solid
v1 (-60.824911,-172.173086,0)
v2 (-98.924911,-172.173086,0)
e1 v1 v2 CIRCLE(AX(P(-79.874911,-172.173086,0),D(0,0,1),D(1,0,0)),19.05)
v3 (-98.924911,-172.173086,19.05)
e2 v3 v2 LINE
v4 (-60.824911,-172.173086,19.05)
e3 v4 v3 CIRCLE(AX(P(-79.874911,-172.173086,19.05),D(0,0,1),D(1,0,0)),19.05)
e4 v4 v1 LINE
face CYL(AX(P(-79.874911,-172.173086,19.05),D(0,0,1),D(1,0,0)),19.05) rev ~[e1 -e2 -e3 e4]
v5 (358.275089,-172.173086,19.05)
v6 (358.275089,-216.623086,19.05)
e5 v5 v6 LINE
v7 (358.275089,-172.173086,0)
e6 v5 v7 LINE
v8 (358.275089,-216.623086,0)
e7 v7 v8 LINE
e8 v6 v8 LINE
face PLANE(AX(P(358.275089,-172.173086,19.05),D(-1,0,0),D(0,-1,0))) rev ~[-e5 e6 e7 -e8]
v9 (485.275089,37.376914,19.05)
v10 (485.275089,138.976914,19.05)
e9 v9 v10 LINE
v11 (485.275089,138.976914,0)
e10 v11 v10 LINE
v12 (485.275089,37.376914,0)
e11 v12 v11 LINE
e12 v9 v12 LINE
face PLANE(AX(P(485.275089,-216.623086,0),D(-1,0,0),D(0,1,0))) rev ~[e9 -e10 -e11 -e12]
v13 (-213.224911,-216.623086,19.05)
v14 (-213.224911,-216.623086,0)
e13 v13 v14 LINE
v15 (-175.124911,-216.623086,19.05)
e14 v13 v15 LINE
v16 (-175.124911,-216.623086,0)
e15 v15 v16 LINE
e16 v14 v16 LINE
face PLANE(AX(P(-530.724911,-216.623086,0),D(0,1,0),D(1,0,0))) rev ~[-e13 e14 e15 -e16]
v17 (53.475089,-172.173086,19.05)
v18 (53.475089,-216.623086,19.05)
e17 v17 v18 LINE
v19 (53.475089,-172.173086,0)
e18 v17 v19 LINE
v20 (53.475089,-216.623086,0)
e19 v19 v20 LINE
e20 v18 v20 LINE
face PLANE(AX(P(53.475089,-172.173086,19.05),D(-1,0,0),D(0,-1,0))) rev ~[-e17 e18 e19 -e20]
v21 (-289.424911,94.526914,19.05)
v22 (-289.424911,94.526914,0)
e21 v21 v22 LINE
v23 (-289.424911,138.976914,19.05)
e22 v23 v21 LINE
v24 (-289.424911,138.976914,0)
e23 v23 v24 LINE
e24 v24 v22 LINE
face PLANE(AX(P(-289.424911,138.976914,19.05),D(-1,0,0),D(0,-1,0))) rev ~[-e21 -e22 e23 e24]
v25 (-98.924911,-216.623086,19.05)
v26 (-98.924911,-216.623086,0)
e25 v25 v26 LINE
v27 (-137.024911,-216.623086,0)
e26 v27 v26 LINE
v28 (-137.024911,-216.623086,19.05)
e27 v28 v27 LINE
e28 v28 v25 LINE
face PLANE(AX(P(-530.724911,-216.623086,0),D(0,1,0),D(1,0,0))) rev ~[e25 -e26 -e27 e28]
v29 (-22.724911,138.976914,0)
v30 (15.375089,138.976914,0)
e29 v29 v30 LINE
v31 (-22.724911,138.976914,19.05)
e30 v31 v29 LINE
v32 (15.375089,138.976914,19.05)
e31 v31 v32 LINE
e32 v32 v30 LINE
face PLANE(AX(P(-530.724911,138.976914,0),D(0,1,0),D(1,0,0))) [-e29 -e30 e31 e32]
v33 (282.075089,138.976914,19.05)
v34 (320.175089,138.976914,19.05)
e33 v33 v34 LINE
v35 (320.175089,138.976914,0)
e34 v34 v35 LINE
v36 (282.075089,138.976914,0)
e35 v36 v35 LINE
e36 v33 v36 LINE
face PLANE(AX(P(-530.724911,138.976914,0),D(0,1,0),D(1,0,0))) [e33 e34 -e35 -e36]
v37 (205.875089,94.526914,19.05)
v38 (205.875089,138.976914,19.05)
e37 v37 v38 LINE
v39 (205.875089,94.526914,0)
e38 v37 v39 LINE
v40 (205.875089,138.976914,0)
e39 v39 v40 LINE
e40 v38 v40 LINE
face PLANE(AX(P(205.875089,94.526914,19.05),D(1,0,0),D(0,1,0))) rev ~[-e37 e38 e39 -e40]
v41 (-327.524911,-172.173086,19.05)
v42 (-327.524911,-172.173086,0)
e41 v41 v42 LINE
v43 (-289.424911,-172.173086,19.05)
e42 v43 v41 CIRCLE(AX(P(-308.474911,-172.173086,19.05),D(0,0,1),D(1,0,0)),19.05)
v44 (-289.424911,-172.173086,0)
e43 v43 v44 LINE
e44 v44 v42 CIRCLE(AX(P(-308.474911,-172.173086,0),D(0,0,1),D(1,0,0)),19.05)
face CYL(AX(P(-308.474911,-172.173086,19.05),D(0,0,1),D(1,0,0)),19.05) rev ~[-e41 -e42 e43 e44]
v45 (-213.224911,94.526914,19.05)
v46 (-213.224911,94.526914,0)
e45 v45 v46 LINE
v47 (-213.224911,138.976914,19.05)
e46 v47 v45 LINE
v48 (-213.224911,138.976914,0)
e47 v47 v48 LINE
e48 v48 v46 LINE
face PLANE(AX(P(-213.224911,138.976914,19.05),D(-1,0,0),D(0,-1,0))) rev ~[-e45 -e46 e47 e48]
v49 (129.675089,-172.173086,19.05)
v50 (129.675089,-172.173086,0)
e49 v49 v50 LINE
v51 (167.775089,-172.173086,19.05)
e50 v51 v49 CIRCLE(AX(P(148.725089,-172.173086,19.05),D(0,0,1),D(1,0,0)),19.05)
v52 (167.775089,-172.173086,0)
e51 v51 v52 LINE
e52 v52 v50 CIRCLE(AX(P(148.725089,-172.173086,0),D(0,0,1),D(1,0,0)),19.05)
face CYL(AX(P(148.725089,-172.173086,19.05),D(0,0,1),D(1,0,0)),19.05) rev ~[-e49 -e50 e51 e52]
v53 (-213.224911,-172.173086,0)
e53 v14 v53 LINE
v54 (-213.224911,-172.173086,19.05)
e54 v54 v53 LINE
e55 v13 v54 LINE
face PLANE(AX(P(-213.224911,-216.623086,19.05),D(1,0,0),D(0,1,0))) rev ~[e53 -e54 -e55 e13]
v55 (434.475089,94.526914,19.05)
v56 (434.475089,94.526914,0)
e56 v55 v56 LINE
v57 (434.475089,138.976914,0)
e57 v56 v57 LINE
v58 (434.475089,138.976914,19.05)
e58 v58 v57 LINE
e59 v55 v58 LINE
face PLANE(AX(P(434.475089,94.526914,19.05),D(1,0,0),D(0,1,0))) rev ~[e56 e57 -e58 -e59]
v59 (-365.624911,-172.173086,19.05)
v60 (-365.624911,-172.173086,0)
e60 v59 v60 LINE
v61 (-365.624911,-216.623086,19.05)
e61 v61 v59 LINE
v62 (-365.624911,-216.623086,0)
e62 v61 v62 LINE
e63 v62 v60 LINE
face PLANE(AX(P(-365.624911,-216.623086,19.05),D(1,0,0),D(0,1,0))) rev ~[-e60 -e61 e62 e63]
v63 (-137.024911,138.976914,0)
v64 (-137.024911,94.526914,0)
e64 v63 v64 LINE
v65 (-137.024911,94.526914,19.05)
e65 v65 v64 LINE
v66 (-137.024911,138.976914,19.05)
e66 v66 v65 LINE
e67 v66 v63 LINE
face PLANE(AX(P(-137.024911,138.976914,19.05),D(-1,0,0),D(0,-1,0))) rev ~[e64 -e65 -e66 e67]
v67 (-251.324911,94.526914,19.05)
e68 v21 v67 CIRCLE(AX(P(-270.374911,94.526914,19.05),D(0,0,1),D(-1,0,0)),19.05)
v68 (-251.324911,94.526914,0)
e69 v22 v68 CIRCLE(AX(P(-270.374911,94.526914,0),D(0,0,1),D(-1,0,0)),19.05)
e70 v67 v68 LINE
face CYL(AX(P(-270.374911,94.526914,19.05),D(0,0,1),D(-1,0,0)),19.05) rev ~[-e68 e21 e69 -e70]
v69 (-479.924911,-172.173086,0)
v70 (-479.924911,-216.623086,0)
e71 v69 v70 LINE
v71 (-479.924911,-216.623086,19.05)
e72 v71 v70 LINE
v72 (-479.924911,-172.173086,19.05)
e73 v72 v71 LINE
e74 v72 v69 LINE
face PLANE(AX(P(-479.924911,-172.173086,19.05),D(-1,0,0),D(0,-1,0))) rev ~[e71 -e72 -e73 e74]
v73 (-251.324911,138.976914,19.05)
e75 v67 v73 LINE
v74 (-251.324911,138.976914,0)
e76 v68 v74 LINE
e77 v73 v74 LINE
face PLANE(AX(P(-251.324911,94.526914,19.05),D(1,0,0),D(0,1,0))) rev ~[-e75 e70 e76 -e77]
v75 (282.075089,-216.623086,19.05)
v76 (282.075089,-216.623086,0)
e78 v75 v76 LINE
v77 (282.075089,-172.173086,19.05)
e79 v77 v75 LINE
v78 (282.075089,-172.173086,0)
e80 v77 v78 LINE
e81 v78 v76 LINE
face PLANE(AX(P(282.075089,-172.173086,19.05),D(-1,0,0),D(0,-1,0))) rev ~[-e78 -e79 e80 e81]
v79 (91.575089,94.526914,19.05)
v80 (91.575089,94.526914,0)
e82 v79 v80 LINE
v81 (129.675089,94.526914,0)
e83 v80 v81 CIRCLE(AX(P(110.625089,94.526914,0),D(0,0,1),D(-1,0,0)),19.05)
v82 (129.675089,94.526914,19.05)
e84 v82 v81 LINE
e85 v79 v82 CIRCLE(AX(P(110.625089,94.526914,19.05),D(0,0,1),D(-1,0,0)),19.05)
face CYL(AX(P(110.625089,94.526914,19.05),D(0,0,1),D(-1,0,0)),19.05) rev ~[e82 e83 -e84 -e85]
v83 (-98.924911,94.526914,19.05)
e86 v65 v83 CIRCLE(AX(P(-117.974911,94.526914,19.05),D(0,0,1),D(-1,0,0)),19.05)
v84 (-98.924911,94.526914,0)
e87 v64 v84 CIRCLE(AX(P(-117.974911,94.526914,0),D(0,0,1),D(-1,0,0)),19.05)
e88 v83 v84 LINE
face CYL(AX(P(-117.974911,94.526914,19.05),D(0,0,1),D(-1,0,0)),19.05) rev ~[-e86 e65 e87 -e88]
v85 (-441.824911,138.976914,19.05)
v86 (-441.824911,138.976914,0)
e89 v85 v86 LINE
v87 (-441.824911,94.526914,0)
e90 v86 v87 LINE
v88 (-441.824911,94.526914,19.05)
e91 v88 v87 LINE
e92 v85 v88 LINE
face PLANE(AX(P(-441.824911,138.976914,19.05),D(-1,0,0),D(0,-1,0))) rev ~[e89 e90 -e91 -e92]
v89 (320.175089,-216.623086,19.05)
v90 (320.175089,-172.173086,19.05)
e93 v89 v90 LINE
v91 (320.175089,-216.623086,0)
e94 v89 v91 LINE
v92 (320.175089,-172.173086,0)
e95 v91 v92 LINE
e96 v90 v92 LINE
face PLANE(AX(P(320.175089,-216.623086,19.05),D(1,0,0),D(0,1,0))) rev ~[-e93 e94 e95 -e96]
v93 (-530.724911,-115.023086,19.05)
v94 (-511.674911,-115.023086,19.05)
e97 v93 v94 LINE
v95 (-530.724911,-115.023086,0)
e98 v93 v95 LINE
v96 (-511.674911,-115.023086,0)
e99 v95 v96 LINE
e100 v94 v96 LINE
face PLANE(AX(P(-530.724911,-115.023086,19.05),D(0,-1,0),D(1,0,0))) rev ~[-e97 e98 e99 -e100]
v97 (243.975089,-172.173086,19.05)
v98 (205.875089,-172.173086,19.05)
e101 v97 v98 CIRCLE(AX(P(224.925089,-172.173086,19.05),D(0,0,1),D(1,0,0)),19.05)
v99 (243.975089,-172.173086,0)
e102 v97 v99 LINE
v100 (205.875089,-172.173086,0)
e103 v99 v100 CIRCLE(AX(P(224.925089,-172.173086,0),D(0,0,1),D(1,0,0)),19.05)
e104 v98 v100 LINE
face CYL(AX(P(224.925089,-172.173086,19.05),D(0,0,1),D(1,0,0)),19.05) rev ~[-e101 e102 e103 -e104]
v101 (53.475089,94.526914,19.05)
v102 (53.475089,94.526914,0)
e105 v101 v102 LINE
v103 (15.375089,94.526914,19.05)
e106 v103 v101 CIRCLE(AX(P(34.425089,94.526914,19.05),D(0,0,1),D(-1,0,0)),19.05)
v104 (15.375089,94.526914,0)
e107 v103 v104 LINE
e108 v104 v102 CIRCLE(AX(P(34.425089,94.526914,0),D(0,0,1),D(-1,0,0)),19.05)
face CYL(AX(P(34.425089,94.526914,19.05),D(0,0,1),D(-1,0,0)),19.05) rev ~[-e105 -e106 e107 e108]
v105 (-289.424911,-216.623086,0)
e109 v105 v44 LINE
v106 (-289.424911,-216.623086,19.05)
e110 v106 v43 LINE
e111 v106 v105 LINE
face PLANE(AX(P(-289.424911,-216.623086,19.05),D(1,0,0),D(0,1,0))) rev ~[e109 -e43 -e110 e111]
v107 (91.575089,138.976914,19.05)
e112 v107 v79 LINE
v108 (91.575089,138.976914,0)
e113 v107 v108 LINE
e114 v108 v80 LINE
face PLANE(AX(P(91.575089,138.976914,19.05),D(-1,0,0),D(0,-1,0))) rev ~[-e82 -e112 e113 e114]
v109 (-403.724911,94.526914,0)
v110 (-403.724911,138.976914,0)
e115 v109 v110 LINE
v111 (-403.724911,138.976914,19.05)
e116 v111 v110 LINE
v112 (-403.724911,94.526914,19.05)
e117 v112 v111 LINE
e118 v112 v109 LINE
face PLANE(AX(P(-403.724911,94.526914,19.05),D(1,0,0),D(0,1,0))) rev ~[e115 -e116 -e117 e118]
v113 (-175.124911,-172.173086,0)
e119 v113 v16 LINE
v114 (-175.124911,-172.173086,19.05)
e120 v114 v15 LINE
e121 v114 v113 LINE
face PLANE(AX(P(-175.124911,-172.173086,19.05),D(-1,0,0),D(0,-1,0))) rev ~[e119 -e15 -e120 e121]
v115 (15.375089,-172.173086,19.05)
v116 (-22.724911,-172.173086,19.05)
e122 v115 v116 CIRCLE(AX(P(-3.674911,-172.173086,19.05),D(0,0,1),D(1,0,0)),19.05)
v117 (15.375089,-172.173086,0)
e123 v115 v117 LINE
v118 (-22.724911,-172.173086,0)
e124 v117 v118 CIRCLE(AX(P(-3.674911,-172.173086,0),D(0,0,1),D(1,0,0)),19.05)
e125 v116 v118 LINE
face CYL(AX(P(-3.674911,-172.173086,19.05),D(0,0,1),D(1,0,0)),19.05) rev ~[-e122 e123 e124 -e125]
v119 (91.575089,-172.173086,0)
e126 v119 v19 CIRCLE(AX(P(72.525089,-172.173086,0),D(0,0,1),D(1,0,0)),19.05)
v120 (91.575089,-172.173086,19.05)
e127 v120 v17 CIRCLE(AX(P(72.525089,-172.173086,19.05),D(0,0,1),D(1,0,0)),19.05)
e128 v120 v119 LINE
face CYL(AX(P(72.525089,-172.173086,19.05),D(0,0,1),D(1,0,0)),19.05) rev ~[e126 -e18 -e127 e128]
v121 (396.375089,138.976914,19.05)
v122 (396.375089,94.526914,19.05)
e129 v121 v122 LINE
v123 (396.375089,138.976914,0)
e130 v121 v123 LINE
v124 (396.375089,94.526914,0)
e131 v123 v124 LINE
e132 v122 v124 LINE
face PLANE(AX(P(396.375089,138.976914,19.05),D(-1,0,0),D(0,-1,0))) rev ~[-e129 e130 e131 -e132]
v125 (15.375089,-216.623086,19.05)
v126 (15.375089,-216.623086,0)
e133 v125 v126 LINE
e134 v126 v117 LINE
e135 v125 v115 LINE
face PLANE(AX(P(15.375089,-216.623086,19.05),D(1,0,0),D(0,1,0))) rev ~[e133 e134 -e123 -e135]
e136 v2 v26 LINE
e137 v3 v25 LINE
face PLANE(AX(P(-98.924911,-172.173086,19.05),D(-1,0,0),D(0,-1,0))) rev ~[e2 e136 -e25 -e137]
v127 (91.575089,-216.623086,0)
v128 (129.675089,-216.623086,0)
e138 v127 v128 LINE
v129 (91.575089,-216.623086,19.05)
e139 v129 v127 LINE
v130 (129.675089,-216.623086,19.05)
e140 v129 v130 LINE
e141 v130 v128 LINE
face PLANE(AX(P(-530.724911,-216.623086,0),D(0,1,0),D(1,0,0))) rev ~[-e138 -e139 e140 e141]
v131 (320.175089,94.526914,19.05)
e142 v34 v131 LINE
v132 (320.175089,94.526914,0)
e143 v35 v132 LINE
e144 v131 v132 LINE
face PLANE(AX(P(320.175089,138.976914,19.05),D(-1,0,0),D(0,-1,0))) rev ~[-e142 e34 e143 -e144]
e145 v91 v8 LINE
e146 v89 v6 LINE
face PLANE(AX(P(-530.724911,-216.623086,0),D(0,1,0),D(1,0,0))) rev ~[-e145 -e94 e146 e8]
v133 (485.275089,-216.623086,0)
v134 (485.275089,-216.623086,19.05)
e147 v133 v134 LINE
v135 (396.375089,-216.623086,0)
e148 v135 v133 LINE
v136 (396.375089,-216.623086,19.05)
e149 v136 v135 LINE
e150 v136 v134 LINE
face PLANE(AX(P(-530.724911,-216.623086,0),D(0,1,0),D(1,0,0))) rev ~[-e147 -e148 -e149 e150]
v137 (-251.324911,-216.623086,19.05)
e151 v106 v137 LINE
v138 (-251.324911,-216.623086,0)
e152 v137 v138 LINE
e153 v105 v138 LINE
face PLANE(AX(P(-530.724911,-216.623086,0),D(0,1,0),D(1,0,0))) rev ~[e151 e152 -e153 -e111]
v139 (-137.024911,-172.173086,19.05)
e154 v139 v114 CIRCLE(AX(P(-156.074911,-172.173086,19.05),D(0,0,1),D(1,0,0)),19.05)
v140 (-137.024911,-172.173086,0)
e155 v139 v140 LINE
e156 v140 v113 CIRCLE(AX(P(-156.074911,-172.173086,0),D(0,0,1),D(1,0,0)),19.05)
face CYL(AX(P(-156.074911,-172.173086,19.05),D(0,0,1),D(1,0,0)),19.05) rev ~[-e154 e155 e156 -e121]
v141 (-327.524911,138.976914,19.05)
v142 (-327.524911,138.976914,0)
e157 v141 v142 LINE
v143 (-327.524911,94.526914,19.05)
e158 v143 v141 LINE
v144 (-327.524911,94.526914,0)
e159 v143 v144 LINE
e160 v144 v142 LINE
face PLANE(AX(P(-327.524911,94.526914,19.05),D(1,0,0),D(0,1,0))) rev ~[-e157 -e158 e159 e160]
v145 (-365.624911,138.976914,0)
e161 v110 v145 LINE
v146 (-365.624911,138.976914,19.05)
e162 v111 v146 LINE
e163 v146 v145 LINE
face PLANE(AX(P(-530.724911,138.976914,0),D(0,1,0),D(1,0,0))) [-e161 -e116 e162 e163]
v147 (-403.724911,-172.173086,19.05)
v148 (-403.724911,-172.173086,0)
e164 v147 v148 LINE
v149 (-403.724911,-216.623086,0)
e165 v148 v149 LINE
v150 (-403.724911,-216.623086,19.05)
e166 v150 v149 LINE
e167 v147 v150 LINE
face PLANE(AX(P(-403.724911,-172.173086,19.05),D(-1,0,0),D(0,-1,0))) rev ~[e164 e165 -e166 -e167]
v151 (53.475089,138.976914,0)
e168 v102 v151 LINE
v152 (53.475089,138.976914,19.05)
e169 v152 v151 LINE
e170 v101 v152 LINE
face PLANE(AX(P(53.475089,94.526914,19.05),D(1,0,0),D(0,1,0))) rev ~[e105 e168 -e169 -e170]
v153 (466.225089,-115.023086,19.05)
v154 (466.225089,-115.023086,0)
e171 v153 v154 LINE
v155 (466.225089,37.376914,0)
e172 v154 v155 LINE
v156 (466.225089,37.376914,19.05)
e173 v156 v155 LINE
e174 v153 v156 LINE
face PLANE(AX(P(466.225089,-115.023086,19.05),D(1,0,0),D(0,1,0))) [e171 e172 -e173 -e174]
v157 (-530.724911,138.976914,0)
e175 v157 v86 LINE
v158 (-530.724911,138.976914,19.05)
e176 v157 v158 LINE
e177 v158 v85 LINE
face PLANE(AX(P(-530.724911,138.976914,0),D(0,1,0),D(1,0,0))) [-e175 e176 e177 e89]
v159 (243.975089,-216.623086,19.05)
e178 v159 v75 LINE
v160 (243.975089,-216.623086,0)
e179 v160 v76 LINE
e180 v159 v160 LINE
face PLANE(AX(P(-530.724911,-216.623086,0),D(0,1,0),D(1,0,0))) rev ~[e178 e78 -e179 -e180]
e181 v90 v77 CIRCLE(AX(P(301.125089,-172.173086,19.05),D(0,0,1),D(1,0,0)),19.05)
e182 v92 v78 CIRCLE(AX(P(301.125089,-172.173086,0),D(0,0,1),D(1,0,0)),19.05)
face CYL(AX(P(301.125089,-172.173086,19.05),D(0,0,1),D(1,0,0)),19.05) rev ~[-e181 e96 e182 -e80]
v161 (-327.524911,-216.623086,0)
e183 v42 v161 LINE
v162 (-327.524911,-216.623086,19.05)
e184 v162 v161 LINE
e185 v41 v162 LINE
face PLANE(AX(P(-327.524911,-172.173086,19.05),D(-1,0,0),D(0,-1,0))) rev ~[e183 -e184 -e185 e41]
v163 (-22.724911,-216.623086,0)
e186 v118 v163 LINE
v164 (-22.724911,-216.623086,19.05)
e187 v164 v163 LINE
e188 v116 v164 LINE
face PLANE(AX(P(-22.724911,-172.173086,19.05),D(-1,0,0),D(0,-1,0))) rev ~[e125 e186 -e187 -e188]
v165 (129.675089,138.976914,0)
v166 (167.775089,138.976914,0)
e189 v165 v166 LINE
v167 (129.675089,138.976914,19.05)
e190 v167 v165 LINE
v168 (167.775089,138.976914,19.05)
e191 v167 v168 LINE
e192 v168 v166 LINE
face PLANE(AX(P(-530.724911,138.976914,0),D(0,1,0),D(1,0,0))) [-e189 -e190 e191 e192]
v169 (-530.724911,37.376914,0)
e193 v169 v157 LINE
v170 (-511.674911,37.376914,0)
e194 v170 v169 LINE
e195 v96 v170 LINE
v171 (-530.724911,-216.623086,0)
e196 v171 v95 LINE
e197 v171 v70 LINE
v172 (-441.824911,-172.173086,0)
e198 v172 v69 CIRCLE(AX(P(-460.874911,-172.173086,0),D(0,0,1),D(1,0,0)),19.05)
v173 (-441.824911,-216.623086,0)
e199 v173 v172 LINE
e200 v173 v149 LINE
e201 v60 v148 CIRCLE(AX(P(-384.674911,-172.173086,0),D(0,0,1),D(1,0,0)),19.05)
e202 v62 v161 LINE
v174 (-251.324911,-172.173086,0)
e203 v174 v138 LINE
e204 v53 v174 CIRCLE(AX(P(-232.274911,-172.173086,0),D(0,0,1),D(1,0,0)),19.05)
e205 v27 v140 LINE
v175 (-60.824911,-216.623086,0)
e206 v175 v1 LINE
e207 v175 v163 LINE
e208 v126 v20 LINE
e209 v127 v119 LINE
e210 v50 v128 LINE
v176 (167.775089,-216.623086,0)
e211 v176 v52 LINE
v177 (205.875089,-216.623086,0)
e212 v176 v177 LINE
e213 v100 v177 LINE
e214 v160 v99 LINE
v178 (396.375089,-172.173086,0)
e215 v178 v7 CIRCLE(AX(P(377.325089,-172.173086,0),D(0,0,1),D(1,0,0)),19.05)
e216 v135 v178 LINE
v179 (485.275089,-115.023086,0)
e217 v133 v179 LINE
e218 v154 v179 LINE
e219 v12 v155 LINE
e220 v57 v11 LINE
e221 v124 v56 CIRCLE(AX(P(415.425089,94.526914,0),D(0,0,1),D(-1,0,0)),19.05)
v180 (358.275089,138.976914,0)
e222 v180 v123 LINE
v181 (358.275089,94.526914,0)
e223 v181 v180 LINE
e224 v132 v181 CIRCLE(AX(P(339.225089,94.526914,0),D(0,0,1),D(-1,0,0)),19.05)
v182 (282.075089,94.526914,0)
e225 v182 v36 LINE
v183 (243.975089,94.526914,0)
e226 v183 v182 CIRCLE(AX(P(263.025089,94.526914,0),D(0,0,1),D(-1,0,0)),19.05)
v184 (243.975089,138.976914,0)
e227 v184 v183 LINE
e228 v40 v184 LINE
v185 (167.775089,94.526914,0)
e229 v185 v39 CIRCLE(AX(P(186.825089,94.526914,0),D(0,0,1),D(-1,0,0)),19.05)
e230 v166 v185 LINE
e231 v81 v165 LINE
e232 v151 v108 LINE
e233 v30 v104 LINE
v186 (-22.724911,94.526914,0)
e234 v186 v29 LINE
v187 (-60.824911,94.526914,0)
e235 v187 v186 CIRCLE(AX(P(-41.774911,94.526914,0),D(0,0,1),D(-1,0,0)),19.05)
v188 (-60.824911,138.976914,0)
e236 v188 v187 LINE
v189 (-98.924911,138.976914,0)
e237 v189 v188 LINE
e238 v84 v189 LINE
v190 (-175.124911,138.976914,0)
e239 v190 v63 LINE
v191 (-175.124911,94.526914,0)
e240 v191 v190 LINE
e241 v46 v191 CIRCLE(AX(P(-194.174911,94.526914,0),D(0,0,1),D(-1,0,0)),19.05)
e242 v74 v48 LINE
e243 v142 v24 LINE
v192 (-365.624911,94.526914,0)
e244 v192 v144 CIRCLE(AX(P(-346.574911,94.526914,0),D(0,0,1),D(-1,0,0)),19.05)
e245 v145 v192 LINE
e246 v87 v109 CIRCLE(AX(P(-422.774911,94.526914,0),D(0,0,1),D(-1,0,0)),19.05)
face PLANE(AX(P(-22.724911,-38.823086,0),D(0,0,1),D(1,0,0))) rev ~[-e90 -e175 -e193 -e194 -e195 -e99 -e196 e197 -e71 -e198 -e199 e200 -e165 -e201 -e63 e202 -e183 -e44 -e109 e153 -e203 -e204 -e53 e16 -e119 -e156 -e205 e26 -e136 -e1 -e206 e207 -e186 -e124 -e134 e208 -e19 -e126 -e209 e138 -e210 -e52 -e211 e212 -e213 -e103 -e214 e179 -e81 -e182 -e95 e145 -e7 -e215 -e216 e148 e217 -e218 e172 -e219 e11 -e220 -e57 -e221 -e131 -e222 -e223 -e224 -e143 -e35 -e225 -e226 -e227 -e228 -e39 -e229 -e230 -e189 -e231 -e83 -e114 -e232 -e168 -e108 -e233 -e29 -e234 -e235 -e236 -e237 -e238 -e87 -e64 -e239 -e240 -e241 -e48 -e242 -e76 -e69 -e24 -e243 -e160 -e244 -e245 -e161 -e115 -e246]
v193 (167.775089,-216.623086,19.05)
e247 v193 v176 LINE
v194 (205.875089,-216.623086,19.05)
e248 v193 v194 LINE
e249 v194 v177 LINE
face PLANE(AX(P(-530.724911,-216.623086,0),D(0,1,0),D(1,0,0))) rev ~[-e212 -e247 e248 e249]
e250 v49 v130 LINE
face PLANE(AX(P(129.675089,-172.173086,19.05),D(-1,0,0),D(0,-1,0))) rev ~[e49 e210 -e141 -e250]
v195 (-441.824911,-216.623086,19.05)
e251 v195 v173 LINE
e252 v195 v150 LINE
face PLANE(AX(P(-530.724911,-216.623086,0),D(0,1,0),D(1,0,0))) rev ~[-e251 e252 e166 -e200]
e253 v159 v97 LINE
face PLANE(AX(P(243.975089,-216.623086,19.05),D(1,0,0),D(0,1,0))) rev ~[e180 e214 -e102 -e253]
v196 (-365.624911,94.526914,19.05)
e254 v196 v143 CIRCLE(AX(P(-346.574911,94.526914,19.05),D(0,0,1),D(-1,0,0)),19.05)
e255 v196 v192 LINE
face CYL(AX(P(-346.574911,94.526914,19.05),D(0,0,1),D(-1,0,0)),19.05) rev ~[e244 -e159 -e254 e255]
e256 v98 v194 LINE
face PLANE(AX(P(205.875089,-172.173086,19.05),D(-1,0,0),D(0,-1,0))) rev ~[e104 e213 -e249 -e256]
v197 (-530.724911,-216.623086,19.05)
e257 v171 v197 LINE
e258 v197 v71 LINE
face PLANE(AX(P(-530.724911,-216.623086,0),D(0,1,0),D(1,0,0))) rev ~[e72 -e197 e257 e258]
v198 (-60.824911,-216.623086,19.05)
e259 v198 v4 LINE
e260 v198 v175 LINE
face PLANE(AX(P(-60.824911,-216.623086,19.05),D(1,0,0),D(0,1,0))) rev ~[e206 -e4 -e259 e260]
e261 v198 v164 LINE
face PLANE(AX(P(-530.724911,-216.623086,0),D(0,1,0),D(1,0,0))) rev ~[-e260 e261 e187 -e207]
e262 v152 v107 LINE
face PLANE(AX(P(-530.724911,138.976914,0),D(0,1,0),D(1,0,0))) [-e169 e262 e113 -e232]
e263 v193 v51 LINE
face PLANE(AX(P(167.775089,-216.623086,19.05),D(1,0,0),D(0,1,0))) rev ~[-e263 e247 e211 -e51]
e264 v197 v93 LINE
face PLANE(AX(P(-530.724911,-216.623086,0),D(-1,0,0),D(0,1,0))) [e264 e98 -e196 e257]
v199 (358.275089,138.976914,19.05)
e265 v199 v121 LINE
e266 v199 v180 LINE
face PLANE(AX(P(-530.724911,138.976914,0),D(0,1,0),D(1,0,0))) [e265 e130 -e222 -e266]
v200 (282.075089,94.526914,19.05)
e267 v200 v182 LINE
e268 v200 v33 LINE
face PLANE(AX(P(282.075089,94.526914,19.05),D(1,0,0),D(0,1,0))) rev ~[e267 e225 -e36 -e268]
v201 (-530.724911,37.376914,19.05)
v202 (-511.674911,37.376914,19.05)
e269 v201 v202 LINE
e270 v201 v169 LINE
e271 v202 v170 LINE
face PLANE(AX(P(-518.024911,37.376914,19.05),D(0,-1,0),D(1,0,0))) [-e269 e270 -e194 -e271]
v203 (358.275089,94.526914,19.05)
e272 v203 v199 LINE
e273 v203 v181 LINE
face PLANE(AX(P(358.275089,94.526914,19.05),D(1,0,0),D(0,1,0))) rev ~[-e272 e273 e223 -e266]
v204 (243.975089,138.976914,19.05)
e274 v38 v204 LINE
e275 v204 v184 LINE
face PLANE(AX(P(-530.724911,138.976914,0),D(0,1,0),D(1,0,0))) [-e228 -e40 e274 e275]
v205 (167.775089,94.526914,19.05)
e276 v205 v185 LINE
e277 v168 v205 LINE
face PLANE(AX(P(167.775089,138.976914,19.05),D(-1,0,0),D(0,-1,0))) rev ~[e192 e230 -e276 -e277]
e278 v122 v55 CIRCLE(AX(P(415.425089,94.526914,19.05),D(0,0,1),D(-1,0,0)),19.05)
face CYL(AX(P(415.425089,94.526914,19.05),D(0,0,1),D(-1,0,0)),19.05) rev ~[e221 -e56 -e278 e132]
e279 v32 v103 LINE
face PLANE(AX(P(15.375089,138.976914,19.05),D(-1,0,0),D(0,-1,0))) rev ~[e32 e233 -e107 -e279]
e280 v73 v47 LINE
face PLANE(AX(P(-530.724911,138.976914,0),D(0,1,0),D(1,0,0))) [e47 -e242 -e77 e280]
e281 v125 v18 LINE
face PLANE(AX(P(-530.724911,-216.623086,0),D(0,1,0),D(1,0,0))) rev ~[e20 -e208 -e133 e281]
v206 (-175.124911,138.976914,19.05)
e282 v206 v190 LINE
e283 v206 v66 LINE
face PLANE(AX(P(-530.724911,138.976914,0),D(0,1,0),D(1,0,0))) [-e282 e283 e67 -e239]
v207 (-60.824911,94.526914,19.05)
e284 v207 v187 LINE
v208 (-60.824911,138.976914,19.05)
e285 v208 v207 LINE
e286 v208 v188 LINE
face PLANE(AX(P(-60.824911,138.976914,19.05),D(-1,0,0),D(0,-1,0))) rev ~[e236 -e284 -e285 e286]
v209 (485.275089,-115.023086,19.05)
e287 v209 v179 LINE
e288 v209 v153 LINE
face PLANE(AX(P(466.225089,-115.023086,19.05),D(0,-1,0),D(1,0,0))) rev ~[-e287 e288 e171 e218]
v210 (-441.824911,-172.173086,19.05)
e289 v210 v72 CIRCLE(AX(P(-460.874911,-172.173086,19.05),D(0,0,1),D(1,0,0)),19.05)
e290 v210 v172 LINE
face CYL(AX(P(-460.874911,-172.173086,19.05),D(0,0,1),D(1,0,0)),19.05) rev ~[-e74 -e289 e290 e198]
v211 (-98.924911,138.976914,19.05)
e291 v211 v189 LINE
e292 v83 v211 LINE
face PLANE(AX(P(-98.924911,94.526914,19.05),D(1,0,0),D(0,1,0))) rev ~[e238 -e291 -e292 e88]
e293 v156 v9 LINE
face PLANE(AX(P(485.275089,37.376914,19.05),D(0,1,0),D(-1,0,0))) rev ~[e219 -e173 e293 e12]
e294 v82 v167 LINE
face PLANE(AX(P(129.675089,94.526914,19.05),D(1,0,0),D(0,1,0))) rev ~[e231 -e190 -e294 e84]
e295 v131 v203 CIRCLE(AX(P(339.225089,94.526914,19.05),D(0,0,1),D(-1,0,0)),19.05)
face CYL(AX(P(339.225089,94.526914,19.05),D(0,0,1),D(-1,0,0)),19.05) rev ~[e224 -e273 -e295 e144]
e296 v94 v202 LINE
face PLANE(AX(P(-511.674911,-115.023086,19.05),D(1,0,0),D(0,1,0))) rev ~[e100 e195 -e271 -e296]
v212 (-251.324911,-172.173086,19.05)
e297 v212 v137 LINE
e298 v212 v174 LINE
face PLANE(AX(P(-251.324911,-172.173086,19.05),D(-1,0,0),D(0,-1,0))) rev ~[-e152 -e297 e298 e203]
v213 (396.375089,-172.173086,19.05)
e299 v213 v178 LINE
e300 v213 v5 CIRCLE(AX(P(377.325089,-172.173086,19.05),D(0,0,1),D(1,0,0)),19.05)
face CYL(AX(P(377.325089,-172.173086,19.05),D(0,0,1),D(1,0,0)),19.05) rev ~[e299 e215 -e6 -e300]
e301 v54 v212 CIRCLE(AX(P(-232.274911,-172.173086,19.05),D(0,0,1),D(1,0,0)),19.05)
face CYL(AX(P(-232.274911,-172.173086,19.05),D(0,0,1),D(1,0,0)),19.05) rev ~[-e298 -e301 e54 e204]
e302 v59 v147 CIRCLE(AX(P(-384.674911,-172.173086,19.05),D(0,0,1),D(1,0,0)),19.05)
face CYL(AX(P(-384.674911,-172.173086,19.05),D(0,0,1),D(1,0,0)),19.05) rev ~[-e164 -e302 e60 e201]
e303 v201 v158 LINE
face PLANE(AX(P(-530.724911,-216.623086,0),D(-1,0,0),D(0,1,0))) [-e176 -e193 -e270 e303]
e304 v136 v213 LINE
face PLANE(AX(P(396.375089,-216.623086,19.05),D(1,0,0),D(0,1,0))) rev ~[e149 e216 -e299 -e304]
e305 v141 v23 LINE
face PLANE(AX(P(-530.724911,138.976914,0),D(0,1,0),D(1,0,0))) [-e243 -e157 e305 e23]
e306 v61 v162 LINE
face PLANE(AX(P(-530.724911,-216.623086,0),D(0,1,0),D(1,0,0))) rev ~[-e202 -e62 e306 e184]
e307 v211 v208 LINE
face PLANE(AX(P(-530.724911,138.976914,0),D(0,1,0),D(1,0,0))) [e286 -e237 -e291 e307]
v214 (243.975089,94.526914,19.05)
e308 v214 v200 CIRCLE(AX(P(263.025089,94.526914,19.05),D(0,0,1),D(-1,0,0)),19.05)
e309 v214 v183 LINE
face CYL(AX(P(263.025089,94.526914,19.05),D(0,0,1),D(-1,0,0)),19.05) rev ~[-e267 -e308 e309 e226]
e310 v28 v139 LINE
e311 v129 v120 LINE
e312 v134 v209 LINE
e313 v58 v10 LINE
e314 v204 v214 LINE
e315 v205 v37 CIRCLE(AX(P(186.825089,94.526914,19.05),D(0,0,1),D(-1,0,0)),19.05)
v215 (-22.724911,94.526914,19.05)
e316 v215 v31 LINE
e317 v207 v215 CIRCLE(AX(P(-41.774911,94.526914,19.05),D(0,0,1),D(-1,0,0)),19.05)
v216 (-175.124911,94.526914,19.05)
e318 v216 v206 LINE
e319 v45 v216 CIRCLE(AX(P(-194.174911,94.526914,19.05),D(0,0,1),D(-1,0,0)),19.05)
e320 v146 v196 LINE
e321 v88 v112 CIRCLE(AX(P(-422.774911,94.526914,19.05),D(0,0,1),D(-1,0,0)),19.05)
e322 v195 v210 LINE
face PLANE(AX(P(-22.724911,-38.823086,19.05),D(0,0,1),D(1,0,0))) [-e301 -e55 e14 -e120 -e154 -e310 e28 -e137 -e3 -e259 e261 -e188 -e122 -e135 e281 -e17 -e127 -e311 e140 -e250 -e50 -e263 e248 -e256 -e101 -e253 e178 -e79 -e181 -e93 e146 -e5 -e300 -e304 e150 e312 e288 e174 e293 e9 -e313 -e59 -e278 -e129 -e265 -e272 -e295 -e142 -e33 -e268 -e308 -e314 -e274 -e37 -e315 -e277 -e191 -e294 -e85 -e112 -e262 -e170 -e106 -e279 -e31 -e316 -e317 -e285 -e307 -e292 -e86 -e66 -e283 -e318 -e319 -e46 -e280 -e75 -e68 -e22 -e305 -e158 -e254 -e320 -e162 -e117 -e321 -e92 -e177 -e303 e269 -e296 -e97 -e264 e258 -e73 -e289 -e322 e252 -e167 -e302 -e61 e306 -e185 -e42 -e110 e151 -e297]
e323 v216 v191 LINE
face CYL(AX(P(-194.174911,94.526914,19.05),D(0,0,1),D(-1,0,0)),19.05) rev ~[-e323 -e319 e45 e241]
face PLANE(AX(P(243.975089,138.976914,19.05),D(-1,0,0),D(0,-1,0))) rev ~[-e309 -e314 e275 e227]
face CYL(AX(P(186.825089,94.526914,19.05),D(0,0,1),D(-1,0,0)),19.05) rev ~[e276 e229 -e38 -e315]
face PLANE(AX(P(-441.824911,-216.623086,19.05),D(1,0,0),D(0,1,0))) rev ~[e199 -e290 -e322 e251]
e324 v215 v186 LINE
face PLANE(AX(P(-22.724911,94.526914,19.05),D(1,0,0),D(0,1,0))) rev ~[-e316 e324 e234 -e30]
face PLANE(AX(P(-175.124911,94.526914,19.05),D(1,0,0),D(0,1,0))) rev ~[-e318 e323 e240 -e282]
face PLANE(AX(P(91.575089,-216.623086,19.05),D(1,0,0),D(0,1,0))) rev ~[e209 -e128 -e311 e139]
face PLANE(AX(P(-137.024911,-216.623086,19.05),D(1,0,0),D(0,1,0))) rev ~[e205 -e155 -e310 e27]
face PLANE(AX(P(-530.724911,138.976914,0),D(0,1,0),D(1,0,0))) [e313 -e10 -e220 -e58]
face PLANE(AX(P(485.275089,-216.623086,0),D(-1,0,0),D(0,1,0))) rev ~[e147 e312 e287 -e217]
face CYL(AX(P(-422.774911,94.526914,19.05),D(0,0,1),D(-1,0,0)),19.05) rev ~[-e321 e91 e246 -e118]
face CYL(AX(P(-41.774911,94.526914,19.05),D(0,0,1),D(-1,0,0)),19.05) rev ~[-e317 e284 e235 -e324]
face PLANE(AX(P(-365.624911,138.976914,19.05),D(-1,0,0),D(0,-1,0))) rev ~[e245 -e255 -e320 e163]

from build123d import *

# Parameters (mm, degrees)
F0_W     = 1016
F0_H     = 355.6
F1_DEPTH = 19.05
F3_DEPTH = 19.051
F5_DEPTH = 19.051
F6_W     = 6.35
F6_H     = 152.4
F7_DEPTH = 19.051


with BuildPart() as f1:
    # F0 (on Top) → F1 (new body)
    with BuildSketch(Plane.XY):
        with Locations((-22.724911, -38.823086)):
            Rectangle(F0_W, F0_H)
    extrude(amount=F1_DEPTH)

    # F2 (on face) → F3 (cut, through all)
    with BuildSketch(Plane.XY.offset(19.05)):
        with BuildLine():
            Line((-403.724911, 138.976914), (-441.824911, 138.976914))
            Line((-441.824911, 138.976914), (-441.824911, 94.526914))
            ThreePointArc((-441.824911, 94.526914), (-422.774911, 75.476914), (-403.724911, 94.526914))
            Line((-403.724911, 94.526914), (-403.724911, 138.976914))
        make_face()
        with BuildLine():
            Line((-441.824911, -216.623086), (-441.824911, -172.173086))
            ThreePointArc((-441.824911, -172.173086), (-460.874911, -153.123086), (-479.924911, -172.173086))
            Line((-479.924911, -172.173086), (-479.924911, -216.623086))
            Line((-479.924911, -216.623086), (-441.824911, -216.623086))
        make_face()
        with BuildLine():
            Line((-327.524911, 138.976914), (-365.624911, 138.976914))
            Line((-365.624911, 138.976914), (-365.624911, 94.526914))
            ThreePointArc((-365.624911, 94.526914), (-346.574911, 75.476914), (-327.524911, 94.526914))
            Line((-327.524911, 94.526914), (-327.524911, 138.976914))
        make_face()
        with BuildLine():
            Line((-365.624911, -216.623086), (-365.624911, -172.173086))
            ThreePointArc((-365.624911, -172.173086), (-384.674911, -153.123086), (-403.724911, -172.173086))
            Line((-403.724911, -172.173086), (-403.724911, -216.623086))
            Line((-403.724911, -216.623086), (-365.624911, -216.623086))
        make_face()
        with BuildLine():
            Line((-251.324911, 138.976914), (-289.424911, 138.976914))
            Line((-289.424911, 138.976914), (-289.424911, 94.526914))
            ThreePointArc((-289.424911, 94.526914), (-270.374911, 75.476914), (-251.324911, 94.526914))
            Line((-251.324911, 94.526914), (-251.324911, 138.976914))
        make_face()
        with BuildLine():
            Line((-289.424911, -216.623086), (-289.424911, -172.173086))
            ThreePointArc((-289.424911, -172.173086), (-308.474911, -153.123086), (-327.524911, -172.173086))
            Line((-327.524911, -172.173086), (-327.524911, -216.623086))
            Line((-327.524911, -216.623086), (-289.424911, -216.623086))
        make_face()
        with BuildLine():
            Line((-175.124911, 138.976914), (-213.224911, 138.976914))
            Line((-213.224911, 138.976914), (-213.224911, 94.526914))
            ThreePointArc((-213.224911, 94.526914), (-194.174911, 75.476914), (-175.124911, 94.526914))
            Line((-175.124911, 94.526914), (-175.124911, 138.976914))
        make_face()
        with BuildLine():
            Line((-213.224911, -216.623086), (-213.224911, -172.173086))
            ThreePointArc((-213.224911, -172.173086), (-232.274911, -153.123086), (-251.324911, -172.173086))
            Line((-251.324911, -172.173086), (-251.324911, -216.623086))
            Line((-251.324911, -216.623086), (-213.224911, -216.623086))
        make_face()
        with BuildLine():
            Line((-98.924911, 138.976914), (-137.024911, 138.976914))
            Line((-137.024911, 138.976914), (-137.024911, 94.526914))
            ThreePointArc((-137.024911, 94.526914), (-117.974911, 75.476914), (-98.924911, 94.526914))
            Line((-98.924911, 94.526914), (-98.924911, 138.976914))
        make_face()
        with BuildLine():
            Line((-137.024911, -216.623086), (-137.024911, -172.173086))
            ThreePointArc((-137.024911, -172.173086), (-156.074911, -153.123086), (-175.124911, -172.173086))
            Line((-175.124911, -172.173086), (-175.124911, -216.623086))
            Line((-175.124911, -216.623086), (-137.024911, -216.623086))
        make_face()
        with BuildLine():
            Line((-22.724911, 138.976914), (-60.824911, 138.976914))
            Line((-60.824911, 138.976914), (-60.824911, 94.526914))
            ThreePointArc((-60.824911, 94.526914), (-41.774911, 75.476914), (-22.724911, 94.526914))
            Line((-22.724911, 94.526914), (-22.724911, 138.976914))
        make_face()
        with BuildLine():
            Line((-60.824911, -216.623086), (-60.824911, -172.173086))
            ThreePointArc((-60.824911, -172.173086), (-79.874911, -153.123086), (-98.924911, -172.173086))
            Line((-98.924911, -172.173086), (-98.924911, -216.623086))
            Line((-98.924911, -216.623086), (-60.824911, -216.623086))
        make_face()
        with BuildLine():
            Line((53.475089, 138.976914), (15.375089, 138.976914))
            Line((15.375089, 138.976914), (15.375089, 94.526914))
            ThreePointArc((15.375089, 94.526914), (34.425089, 75.476914), (53.475089, 94.526914))
            Line((53.475089, 94.526914), (53.475089, 138.976914))
        make_face()
        with BuildLine():
            Line((15.375089, -216.623086), (15.375089, -172.173086))
            ThreePointArc((15.375089, -172.173086), (-3.674911, -153.123086), (-22.724911, -172.173086))
            Line((-22.724911, -172.173086), (-22.724911, -216.623086))
            Line((-22.724911, -216.623086), (15.375089, -216.623086))
        make_face()
        with BuildLine():
            Line((129.675089, 138.976914), (91.575089, 138.976914))
            Line((91.575089, 138.976914), (91.575089, 94.526914))
            ThreePointArc((91.575089, 94.526914), (110.625089, 75.476914), (129.675089, 94.526914))
            Line((129.675089, 94.526914), (129.675089, 138.976914))
        make_face()
        with BuildLine():
            Line((91.575089, -216.623086), (91.575089, -172.173086))
            ThreePointArc((91.575089, -172.173086), (72.525089, -153.123086), (53.475089, -172.173086))
            Line((53.475089, -172.173086), (53.475089, -216.623086))
            Line((53.475089, -216.623086), (91.575089, -216.623086))
        make_face()
        with BuildLine():
            Line((205.875089, 138.976914), (167.775089, 138.976914))
            Line((167.775089, 138.976914), (167.775089, 94.526914))
            ThreePointArc((167.775089, 94.526914), (186.825089, 75.476914), (205.875089, 94.526914))
            Line((205.875089, 94.526914), (205.875089, 138.976914))
        make_face()
        with BuildLine():
            Line((167.775089, -216.623086), (167.775089, -172.173086))
            ThreePointArc((167.775089, -172.173086), (148.725089, -153.123086), (129.675089, -172.173086))
            Line((129.675089, -172.173086), (129.675089, -216.623086))
            Line((129.675089, -216.623086), (167.775089, -216.623086))
        make_face()
        with BuildLine():
            Line((282.075089, 94.526914), (282.075089, 138.976914))
            Line((282.075089, 138.976914), (243.975089, 138.976914))
            Line((243.975089, 138.976914), (243.975089, 94.526914))
            ThreePointArc((243.975089, 94.526914), (263.025089, 75.476914), (282.075089, 94.526914))
        make_face()
        with BuildLine():
            Line((243.975089, -216.623086), (243.975089, -172.173086))
            ThreePointArc((243.975089, -172.173086), (224.925089, -153.123086), (205.875089, -172.173086))
            Line((205.875089, -172.173086), (205.875089, -216.623086))
            Line((205.875089, -216.623086), (243.975089, -216.623086))
        make_face()
        with BuildLine():
            Line((358.275089, 94.526914), (358.275089, 138.976914))
            Line((358.275089, 138.976914), (320.175089, 138.976914))
            Line((320.175089, 138.976914), (320.175089, 94.526914))
            ThreePointArc((320.175089, 94.526914), (339.225089, 75.476914), (358.275089, 94.526914))
        make_face()
        with BuildLine():
            Line((320.175089, -216.623086), (320.175089, -172.173086))
            ThreePointArc((320.175089, -172.173086), (301.125089, -153.123086), (282.075089, -172.173086))
            Line((282.075089, -172.173086), (282.075089, -216.623086))
            Line((282.075089, -216.623086), (320.175089, -216.623086))
        make_face()
        with BuildLine():
            Line((434.475089, 94.526914), (434.475089, 138.976914))
            Line((434.475089, 138.976914), (396.375089, 138.976914))
            Line((396.375089, 138.976914), (396.375089, 94.526914))
            ThreePointArc((396.375089, 94.526914), (415.425089, 75.476914), (434.475089, 94.526914))
        make_face()
        with BuildLine():
            Line((396.375089, -216.623086), (396.375089, -172.173086))
            ThreePointArc((396.375089, -172.173086), (377.325089, -153.123086), (358.275089, -172.173086))
            Line((358.275089, -172.173086), (358.275089, -216.623086))
            Line((358.275089, -216.623086), (396.375089, -216.623086))
        make_face()
    extrude(amount=-F3_DEPTH, mode=Mode.SUBTRACT)

    # F4 (on face) → F5 (cut, through all)
    with BuildSketch(Plane.XY.offset(19.05)):
        Polygon((-518.024911, -115.023086), (-518.024911, -38.823086), (-518.024911, 37.376914), (-530.724911, 37.376914), (-530.724911, -38.823086), (-530.724911, -115.023086), align=None)
        Polygon((485.275089, 37.376914), (472.575089, 37.376914), (472.575089, -38.823086), (472.575089, -115.023086), (485.275089, -115.023086), (485.275089, -38.823086), align=None)
    extrude(amount=-F5_DEPTH, mode=Mode.SUBTRACT)

    # F6 (on face) → F7 (cut, through all)
    with BuildSketch(Plane.XY.offset(19.05)):
        with Locations((-514.849911, -38.823086)):
            Rectangle(F6_W, F6_H)
        with Locations((469.400089, -38.823086)):
            Rectangle(F6_W, F6_H)
    extrude(amount=-F7_DEPTH, mode=Mode.SUBTRACT)


solid = f1.part
